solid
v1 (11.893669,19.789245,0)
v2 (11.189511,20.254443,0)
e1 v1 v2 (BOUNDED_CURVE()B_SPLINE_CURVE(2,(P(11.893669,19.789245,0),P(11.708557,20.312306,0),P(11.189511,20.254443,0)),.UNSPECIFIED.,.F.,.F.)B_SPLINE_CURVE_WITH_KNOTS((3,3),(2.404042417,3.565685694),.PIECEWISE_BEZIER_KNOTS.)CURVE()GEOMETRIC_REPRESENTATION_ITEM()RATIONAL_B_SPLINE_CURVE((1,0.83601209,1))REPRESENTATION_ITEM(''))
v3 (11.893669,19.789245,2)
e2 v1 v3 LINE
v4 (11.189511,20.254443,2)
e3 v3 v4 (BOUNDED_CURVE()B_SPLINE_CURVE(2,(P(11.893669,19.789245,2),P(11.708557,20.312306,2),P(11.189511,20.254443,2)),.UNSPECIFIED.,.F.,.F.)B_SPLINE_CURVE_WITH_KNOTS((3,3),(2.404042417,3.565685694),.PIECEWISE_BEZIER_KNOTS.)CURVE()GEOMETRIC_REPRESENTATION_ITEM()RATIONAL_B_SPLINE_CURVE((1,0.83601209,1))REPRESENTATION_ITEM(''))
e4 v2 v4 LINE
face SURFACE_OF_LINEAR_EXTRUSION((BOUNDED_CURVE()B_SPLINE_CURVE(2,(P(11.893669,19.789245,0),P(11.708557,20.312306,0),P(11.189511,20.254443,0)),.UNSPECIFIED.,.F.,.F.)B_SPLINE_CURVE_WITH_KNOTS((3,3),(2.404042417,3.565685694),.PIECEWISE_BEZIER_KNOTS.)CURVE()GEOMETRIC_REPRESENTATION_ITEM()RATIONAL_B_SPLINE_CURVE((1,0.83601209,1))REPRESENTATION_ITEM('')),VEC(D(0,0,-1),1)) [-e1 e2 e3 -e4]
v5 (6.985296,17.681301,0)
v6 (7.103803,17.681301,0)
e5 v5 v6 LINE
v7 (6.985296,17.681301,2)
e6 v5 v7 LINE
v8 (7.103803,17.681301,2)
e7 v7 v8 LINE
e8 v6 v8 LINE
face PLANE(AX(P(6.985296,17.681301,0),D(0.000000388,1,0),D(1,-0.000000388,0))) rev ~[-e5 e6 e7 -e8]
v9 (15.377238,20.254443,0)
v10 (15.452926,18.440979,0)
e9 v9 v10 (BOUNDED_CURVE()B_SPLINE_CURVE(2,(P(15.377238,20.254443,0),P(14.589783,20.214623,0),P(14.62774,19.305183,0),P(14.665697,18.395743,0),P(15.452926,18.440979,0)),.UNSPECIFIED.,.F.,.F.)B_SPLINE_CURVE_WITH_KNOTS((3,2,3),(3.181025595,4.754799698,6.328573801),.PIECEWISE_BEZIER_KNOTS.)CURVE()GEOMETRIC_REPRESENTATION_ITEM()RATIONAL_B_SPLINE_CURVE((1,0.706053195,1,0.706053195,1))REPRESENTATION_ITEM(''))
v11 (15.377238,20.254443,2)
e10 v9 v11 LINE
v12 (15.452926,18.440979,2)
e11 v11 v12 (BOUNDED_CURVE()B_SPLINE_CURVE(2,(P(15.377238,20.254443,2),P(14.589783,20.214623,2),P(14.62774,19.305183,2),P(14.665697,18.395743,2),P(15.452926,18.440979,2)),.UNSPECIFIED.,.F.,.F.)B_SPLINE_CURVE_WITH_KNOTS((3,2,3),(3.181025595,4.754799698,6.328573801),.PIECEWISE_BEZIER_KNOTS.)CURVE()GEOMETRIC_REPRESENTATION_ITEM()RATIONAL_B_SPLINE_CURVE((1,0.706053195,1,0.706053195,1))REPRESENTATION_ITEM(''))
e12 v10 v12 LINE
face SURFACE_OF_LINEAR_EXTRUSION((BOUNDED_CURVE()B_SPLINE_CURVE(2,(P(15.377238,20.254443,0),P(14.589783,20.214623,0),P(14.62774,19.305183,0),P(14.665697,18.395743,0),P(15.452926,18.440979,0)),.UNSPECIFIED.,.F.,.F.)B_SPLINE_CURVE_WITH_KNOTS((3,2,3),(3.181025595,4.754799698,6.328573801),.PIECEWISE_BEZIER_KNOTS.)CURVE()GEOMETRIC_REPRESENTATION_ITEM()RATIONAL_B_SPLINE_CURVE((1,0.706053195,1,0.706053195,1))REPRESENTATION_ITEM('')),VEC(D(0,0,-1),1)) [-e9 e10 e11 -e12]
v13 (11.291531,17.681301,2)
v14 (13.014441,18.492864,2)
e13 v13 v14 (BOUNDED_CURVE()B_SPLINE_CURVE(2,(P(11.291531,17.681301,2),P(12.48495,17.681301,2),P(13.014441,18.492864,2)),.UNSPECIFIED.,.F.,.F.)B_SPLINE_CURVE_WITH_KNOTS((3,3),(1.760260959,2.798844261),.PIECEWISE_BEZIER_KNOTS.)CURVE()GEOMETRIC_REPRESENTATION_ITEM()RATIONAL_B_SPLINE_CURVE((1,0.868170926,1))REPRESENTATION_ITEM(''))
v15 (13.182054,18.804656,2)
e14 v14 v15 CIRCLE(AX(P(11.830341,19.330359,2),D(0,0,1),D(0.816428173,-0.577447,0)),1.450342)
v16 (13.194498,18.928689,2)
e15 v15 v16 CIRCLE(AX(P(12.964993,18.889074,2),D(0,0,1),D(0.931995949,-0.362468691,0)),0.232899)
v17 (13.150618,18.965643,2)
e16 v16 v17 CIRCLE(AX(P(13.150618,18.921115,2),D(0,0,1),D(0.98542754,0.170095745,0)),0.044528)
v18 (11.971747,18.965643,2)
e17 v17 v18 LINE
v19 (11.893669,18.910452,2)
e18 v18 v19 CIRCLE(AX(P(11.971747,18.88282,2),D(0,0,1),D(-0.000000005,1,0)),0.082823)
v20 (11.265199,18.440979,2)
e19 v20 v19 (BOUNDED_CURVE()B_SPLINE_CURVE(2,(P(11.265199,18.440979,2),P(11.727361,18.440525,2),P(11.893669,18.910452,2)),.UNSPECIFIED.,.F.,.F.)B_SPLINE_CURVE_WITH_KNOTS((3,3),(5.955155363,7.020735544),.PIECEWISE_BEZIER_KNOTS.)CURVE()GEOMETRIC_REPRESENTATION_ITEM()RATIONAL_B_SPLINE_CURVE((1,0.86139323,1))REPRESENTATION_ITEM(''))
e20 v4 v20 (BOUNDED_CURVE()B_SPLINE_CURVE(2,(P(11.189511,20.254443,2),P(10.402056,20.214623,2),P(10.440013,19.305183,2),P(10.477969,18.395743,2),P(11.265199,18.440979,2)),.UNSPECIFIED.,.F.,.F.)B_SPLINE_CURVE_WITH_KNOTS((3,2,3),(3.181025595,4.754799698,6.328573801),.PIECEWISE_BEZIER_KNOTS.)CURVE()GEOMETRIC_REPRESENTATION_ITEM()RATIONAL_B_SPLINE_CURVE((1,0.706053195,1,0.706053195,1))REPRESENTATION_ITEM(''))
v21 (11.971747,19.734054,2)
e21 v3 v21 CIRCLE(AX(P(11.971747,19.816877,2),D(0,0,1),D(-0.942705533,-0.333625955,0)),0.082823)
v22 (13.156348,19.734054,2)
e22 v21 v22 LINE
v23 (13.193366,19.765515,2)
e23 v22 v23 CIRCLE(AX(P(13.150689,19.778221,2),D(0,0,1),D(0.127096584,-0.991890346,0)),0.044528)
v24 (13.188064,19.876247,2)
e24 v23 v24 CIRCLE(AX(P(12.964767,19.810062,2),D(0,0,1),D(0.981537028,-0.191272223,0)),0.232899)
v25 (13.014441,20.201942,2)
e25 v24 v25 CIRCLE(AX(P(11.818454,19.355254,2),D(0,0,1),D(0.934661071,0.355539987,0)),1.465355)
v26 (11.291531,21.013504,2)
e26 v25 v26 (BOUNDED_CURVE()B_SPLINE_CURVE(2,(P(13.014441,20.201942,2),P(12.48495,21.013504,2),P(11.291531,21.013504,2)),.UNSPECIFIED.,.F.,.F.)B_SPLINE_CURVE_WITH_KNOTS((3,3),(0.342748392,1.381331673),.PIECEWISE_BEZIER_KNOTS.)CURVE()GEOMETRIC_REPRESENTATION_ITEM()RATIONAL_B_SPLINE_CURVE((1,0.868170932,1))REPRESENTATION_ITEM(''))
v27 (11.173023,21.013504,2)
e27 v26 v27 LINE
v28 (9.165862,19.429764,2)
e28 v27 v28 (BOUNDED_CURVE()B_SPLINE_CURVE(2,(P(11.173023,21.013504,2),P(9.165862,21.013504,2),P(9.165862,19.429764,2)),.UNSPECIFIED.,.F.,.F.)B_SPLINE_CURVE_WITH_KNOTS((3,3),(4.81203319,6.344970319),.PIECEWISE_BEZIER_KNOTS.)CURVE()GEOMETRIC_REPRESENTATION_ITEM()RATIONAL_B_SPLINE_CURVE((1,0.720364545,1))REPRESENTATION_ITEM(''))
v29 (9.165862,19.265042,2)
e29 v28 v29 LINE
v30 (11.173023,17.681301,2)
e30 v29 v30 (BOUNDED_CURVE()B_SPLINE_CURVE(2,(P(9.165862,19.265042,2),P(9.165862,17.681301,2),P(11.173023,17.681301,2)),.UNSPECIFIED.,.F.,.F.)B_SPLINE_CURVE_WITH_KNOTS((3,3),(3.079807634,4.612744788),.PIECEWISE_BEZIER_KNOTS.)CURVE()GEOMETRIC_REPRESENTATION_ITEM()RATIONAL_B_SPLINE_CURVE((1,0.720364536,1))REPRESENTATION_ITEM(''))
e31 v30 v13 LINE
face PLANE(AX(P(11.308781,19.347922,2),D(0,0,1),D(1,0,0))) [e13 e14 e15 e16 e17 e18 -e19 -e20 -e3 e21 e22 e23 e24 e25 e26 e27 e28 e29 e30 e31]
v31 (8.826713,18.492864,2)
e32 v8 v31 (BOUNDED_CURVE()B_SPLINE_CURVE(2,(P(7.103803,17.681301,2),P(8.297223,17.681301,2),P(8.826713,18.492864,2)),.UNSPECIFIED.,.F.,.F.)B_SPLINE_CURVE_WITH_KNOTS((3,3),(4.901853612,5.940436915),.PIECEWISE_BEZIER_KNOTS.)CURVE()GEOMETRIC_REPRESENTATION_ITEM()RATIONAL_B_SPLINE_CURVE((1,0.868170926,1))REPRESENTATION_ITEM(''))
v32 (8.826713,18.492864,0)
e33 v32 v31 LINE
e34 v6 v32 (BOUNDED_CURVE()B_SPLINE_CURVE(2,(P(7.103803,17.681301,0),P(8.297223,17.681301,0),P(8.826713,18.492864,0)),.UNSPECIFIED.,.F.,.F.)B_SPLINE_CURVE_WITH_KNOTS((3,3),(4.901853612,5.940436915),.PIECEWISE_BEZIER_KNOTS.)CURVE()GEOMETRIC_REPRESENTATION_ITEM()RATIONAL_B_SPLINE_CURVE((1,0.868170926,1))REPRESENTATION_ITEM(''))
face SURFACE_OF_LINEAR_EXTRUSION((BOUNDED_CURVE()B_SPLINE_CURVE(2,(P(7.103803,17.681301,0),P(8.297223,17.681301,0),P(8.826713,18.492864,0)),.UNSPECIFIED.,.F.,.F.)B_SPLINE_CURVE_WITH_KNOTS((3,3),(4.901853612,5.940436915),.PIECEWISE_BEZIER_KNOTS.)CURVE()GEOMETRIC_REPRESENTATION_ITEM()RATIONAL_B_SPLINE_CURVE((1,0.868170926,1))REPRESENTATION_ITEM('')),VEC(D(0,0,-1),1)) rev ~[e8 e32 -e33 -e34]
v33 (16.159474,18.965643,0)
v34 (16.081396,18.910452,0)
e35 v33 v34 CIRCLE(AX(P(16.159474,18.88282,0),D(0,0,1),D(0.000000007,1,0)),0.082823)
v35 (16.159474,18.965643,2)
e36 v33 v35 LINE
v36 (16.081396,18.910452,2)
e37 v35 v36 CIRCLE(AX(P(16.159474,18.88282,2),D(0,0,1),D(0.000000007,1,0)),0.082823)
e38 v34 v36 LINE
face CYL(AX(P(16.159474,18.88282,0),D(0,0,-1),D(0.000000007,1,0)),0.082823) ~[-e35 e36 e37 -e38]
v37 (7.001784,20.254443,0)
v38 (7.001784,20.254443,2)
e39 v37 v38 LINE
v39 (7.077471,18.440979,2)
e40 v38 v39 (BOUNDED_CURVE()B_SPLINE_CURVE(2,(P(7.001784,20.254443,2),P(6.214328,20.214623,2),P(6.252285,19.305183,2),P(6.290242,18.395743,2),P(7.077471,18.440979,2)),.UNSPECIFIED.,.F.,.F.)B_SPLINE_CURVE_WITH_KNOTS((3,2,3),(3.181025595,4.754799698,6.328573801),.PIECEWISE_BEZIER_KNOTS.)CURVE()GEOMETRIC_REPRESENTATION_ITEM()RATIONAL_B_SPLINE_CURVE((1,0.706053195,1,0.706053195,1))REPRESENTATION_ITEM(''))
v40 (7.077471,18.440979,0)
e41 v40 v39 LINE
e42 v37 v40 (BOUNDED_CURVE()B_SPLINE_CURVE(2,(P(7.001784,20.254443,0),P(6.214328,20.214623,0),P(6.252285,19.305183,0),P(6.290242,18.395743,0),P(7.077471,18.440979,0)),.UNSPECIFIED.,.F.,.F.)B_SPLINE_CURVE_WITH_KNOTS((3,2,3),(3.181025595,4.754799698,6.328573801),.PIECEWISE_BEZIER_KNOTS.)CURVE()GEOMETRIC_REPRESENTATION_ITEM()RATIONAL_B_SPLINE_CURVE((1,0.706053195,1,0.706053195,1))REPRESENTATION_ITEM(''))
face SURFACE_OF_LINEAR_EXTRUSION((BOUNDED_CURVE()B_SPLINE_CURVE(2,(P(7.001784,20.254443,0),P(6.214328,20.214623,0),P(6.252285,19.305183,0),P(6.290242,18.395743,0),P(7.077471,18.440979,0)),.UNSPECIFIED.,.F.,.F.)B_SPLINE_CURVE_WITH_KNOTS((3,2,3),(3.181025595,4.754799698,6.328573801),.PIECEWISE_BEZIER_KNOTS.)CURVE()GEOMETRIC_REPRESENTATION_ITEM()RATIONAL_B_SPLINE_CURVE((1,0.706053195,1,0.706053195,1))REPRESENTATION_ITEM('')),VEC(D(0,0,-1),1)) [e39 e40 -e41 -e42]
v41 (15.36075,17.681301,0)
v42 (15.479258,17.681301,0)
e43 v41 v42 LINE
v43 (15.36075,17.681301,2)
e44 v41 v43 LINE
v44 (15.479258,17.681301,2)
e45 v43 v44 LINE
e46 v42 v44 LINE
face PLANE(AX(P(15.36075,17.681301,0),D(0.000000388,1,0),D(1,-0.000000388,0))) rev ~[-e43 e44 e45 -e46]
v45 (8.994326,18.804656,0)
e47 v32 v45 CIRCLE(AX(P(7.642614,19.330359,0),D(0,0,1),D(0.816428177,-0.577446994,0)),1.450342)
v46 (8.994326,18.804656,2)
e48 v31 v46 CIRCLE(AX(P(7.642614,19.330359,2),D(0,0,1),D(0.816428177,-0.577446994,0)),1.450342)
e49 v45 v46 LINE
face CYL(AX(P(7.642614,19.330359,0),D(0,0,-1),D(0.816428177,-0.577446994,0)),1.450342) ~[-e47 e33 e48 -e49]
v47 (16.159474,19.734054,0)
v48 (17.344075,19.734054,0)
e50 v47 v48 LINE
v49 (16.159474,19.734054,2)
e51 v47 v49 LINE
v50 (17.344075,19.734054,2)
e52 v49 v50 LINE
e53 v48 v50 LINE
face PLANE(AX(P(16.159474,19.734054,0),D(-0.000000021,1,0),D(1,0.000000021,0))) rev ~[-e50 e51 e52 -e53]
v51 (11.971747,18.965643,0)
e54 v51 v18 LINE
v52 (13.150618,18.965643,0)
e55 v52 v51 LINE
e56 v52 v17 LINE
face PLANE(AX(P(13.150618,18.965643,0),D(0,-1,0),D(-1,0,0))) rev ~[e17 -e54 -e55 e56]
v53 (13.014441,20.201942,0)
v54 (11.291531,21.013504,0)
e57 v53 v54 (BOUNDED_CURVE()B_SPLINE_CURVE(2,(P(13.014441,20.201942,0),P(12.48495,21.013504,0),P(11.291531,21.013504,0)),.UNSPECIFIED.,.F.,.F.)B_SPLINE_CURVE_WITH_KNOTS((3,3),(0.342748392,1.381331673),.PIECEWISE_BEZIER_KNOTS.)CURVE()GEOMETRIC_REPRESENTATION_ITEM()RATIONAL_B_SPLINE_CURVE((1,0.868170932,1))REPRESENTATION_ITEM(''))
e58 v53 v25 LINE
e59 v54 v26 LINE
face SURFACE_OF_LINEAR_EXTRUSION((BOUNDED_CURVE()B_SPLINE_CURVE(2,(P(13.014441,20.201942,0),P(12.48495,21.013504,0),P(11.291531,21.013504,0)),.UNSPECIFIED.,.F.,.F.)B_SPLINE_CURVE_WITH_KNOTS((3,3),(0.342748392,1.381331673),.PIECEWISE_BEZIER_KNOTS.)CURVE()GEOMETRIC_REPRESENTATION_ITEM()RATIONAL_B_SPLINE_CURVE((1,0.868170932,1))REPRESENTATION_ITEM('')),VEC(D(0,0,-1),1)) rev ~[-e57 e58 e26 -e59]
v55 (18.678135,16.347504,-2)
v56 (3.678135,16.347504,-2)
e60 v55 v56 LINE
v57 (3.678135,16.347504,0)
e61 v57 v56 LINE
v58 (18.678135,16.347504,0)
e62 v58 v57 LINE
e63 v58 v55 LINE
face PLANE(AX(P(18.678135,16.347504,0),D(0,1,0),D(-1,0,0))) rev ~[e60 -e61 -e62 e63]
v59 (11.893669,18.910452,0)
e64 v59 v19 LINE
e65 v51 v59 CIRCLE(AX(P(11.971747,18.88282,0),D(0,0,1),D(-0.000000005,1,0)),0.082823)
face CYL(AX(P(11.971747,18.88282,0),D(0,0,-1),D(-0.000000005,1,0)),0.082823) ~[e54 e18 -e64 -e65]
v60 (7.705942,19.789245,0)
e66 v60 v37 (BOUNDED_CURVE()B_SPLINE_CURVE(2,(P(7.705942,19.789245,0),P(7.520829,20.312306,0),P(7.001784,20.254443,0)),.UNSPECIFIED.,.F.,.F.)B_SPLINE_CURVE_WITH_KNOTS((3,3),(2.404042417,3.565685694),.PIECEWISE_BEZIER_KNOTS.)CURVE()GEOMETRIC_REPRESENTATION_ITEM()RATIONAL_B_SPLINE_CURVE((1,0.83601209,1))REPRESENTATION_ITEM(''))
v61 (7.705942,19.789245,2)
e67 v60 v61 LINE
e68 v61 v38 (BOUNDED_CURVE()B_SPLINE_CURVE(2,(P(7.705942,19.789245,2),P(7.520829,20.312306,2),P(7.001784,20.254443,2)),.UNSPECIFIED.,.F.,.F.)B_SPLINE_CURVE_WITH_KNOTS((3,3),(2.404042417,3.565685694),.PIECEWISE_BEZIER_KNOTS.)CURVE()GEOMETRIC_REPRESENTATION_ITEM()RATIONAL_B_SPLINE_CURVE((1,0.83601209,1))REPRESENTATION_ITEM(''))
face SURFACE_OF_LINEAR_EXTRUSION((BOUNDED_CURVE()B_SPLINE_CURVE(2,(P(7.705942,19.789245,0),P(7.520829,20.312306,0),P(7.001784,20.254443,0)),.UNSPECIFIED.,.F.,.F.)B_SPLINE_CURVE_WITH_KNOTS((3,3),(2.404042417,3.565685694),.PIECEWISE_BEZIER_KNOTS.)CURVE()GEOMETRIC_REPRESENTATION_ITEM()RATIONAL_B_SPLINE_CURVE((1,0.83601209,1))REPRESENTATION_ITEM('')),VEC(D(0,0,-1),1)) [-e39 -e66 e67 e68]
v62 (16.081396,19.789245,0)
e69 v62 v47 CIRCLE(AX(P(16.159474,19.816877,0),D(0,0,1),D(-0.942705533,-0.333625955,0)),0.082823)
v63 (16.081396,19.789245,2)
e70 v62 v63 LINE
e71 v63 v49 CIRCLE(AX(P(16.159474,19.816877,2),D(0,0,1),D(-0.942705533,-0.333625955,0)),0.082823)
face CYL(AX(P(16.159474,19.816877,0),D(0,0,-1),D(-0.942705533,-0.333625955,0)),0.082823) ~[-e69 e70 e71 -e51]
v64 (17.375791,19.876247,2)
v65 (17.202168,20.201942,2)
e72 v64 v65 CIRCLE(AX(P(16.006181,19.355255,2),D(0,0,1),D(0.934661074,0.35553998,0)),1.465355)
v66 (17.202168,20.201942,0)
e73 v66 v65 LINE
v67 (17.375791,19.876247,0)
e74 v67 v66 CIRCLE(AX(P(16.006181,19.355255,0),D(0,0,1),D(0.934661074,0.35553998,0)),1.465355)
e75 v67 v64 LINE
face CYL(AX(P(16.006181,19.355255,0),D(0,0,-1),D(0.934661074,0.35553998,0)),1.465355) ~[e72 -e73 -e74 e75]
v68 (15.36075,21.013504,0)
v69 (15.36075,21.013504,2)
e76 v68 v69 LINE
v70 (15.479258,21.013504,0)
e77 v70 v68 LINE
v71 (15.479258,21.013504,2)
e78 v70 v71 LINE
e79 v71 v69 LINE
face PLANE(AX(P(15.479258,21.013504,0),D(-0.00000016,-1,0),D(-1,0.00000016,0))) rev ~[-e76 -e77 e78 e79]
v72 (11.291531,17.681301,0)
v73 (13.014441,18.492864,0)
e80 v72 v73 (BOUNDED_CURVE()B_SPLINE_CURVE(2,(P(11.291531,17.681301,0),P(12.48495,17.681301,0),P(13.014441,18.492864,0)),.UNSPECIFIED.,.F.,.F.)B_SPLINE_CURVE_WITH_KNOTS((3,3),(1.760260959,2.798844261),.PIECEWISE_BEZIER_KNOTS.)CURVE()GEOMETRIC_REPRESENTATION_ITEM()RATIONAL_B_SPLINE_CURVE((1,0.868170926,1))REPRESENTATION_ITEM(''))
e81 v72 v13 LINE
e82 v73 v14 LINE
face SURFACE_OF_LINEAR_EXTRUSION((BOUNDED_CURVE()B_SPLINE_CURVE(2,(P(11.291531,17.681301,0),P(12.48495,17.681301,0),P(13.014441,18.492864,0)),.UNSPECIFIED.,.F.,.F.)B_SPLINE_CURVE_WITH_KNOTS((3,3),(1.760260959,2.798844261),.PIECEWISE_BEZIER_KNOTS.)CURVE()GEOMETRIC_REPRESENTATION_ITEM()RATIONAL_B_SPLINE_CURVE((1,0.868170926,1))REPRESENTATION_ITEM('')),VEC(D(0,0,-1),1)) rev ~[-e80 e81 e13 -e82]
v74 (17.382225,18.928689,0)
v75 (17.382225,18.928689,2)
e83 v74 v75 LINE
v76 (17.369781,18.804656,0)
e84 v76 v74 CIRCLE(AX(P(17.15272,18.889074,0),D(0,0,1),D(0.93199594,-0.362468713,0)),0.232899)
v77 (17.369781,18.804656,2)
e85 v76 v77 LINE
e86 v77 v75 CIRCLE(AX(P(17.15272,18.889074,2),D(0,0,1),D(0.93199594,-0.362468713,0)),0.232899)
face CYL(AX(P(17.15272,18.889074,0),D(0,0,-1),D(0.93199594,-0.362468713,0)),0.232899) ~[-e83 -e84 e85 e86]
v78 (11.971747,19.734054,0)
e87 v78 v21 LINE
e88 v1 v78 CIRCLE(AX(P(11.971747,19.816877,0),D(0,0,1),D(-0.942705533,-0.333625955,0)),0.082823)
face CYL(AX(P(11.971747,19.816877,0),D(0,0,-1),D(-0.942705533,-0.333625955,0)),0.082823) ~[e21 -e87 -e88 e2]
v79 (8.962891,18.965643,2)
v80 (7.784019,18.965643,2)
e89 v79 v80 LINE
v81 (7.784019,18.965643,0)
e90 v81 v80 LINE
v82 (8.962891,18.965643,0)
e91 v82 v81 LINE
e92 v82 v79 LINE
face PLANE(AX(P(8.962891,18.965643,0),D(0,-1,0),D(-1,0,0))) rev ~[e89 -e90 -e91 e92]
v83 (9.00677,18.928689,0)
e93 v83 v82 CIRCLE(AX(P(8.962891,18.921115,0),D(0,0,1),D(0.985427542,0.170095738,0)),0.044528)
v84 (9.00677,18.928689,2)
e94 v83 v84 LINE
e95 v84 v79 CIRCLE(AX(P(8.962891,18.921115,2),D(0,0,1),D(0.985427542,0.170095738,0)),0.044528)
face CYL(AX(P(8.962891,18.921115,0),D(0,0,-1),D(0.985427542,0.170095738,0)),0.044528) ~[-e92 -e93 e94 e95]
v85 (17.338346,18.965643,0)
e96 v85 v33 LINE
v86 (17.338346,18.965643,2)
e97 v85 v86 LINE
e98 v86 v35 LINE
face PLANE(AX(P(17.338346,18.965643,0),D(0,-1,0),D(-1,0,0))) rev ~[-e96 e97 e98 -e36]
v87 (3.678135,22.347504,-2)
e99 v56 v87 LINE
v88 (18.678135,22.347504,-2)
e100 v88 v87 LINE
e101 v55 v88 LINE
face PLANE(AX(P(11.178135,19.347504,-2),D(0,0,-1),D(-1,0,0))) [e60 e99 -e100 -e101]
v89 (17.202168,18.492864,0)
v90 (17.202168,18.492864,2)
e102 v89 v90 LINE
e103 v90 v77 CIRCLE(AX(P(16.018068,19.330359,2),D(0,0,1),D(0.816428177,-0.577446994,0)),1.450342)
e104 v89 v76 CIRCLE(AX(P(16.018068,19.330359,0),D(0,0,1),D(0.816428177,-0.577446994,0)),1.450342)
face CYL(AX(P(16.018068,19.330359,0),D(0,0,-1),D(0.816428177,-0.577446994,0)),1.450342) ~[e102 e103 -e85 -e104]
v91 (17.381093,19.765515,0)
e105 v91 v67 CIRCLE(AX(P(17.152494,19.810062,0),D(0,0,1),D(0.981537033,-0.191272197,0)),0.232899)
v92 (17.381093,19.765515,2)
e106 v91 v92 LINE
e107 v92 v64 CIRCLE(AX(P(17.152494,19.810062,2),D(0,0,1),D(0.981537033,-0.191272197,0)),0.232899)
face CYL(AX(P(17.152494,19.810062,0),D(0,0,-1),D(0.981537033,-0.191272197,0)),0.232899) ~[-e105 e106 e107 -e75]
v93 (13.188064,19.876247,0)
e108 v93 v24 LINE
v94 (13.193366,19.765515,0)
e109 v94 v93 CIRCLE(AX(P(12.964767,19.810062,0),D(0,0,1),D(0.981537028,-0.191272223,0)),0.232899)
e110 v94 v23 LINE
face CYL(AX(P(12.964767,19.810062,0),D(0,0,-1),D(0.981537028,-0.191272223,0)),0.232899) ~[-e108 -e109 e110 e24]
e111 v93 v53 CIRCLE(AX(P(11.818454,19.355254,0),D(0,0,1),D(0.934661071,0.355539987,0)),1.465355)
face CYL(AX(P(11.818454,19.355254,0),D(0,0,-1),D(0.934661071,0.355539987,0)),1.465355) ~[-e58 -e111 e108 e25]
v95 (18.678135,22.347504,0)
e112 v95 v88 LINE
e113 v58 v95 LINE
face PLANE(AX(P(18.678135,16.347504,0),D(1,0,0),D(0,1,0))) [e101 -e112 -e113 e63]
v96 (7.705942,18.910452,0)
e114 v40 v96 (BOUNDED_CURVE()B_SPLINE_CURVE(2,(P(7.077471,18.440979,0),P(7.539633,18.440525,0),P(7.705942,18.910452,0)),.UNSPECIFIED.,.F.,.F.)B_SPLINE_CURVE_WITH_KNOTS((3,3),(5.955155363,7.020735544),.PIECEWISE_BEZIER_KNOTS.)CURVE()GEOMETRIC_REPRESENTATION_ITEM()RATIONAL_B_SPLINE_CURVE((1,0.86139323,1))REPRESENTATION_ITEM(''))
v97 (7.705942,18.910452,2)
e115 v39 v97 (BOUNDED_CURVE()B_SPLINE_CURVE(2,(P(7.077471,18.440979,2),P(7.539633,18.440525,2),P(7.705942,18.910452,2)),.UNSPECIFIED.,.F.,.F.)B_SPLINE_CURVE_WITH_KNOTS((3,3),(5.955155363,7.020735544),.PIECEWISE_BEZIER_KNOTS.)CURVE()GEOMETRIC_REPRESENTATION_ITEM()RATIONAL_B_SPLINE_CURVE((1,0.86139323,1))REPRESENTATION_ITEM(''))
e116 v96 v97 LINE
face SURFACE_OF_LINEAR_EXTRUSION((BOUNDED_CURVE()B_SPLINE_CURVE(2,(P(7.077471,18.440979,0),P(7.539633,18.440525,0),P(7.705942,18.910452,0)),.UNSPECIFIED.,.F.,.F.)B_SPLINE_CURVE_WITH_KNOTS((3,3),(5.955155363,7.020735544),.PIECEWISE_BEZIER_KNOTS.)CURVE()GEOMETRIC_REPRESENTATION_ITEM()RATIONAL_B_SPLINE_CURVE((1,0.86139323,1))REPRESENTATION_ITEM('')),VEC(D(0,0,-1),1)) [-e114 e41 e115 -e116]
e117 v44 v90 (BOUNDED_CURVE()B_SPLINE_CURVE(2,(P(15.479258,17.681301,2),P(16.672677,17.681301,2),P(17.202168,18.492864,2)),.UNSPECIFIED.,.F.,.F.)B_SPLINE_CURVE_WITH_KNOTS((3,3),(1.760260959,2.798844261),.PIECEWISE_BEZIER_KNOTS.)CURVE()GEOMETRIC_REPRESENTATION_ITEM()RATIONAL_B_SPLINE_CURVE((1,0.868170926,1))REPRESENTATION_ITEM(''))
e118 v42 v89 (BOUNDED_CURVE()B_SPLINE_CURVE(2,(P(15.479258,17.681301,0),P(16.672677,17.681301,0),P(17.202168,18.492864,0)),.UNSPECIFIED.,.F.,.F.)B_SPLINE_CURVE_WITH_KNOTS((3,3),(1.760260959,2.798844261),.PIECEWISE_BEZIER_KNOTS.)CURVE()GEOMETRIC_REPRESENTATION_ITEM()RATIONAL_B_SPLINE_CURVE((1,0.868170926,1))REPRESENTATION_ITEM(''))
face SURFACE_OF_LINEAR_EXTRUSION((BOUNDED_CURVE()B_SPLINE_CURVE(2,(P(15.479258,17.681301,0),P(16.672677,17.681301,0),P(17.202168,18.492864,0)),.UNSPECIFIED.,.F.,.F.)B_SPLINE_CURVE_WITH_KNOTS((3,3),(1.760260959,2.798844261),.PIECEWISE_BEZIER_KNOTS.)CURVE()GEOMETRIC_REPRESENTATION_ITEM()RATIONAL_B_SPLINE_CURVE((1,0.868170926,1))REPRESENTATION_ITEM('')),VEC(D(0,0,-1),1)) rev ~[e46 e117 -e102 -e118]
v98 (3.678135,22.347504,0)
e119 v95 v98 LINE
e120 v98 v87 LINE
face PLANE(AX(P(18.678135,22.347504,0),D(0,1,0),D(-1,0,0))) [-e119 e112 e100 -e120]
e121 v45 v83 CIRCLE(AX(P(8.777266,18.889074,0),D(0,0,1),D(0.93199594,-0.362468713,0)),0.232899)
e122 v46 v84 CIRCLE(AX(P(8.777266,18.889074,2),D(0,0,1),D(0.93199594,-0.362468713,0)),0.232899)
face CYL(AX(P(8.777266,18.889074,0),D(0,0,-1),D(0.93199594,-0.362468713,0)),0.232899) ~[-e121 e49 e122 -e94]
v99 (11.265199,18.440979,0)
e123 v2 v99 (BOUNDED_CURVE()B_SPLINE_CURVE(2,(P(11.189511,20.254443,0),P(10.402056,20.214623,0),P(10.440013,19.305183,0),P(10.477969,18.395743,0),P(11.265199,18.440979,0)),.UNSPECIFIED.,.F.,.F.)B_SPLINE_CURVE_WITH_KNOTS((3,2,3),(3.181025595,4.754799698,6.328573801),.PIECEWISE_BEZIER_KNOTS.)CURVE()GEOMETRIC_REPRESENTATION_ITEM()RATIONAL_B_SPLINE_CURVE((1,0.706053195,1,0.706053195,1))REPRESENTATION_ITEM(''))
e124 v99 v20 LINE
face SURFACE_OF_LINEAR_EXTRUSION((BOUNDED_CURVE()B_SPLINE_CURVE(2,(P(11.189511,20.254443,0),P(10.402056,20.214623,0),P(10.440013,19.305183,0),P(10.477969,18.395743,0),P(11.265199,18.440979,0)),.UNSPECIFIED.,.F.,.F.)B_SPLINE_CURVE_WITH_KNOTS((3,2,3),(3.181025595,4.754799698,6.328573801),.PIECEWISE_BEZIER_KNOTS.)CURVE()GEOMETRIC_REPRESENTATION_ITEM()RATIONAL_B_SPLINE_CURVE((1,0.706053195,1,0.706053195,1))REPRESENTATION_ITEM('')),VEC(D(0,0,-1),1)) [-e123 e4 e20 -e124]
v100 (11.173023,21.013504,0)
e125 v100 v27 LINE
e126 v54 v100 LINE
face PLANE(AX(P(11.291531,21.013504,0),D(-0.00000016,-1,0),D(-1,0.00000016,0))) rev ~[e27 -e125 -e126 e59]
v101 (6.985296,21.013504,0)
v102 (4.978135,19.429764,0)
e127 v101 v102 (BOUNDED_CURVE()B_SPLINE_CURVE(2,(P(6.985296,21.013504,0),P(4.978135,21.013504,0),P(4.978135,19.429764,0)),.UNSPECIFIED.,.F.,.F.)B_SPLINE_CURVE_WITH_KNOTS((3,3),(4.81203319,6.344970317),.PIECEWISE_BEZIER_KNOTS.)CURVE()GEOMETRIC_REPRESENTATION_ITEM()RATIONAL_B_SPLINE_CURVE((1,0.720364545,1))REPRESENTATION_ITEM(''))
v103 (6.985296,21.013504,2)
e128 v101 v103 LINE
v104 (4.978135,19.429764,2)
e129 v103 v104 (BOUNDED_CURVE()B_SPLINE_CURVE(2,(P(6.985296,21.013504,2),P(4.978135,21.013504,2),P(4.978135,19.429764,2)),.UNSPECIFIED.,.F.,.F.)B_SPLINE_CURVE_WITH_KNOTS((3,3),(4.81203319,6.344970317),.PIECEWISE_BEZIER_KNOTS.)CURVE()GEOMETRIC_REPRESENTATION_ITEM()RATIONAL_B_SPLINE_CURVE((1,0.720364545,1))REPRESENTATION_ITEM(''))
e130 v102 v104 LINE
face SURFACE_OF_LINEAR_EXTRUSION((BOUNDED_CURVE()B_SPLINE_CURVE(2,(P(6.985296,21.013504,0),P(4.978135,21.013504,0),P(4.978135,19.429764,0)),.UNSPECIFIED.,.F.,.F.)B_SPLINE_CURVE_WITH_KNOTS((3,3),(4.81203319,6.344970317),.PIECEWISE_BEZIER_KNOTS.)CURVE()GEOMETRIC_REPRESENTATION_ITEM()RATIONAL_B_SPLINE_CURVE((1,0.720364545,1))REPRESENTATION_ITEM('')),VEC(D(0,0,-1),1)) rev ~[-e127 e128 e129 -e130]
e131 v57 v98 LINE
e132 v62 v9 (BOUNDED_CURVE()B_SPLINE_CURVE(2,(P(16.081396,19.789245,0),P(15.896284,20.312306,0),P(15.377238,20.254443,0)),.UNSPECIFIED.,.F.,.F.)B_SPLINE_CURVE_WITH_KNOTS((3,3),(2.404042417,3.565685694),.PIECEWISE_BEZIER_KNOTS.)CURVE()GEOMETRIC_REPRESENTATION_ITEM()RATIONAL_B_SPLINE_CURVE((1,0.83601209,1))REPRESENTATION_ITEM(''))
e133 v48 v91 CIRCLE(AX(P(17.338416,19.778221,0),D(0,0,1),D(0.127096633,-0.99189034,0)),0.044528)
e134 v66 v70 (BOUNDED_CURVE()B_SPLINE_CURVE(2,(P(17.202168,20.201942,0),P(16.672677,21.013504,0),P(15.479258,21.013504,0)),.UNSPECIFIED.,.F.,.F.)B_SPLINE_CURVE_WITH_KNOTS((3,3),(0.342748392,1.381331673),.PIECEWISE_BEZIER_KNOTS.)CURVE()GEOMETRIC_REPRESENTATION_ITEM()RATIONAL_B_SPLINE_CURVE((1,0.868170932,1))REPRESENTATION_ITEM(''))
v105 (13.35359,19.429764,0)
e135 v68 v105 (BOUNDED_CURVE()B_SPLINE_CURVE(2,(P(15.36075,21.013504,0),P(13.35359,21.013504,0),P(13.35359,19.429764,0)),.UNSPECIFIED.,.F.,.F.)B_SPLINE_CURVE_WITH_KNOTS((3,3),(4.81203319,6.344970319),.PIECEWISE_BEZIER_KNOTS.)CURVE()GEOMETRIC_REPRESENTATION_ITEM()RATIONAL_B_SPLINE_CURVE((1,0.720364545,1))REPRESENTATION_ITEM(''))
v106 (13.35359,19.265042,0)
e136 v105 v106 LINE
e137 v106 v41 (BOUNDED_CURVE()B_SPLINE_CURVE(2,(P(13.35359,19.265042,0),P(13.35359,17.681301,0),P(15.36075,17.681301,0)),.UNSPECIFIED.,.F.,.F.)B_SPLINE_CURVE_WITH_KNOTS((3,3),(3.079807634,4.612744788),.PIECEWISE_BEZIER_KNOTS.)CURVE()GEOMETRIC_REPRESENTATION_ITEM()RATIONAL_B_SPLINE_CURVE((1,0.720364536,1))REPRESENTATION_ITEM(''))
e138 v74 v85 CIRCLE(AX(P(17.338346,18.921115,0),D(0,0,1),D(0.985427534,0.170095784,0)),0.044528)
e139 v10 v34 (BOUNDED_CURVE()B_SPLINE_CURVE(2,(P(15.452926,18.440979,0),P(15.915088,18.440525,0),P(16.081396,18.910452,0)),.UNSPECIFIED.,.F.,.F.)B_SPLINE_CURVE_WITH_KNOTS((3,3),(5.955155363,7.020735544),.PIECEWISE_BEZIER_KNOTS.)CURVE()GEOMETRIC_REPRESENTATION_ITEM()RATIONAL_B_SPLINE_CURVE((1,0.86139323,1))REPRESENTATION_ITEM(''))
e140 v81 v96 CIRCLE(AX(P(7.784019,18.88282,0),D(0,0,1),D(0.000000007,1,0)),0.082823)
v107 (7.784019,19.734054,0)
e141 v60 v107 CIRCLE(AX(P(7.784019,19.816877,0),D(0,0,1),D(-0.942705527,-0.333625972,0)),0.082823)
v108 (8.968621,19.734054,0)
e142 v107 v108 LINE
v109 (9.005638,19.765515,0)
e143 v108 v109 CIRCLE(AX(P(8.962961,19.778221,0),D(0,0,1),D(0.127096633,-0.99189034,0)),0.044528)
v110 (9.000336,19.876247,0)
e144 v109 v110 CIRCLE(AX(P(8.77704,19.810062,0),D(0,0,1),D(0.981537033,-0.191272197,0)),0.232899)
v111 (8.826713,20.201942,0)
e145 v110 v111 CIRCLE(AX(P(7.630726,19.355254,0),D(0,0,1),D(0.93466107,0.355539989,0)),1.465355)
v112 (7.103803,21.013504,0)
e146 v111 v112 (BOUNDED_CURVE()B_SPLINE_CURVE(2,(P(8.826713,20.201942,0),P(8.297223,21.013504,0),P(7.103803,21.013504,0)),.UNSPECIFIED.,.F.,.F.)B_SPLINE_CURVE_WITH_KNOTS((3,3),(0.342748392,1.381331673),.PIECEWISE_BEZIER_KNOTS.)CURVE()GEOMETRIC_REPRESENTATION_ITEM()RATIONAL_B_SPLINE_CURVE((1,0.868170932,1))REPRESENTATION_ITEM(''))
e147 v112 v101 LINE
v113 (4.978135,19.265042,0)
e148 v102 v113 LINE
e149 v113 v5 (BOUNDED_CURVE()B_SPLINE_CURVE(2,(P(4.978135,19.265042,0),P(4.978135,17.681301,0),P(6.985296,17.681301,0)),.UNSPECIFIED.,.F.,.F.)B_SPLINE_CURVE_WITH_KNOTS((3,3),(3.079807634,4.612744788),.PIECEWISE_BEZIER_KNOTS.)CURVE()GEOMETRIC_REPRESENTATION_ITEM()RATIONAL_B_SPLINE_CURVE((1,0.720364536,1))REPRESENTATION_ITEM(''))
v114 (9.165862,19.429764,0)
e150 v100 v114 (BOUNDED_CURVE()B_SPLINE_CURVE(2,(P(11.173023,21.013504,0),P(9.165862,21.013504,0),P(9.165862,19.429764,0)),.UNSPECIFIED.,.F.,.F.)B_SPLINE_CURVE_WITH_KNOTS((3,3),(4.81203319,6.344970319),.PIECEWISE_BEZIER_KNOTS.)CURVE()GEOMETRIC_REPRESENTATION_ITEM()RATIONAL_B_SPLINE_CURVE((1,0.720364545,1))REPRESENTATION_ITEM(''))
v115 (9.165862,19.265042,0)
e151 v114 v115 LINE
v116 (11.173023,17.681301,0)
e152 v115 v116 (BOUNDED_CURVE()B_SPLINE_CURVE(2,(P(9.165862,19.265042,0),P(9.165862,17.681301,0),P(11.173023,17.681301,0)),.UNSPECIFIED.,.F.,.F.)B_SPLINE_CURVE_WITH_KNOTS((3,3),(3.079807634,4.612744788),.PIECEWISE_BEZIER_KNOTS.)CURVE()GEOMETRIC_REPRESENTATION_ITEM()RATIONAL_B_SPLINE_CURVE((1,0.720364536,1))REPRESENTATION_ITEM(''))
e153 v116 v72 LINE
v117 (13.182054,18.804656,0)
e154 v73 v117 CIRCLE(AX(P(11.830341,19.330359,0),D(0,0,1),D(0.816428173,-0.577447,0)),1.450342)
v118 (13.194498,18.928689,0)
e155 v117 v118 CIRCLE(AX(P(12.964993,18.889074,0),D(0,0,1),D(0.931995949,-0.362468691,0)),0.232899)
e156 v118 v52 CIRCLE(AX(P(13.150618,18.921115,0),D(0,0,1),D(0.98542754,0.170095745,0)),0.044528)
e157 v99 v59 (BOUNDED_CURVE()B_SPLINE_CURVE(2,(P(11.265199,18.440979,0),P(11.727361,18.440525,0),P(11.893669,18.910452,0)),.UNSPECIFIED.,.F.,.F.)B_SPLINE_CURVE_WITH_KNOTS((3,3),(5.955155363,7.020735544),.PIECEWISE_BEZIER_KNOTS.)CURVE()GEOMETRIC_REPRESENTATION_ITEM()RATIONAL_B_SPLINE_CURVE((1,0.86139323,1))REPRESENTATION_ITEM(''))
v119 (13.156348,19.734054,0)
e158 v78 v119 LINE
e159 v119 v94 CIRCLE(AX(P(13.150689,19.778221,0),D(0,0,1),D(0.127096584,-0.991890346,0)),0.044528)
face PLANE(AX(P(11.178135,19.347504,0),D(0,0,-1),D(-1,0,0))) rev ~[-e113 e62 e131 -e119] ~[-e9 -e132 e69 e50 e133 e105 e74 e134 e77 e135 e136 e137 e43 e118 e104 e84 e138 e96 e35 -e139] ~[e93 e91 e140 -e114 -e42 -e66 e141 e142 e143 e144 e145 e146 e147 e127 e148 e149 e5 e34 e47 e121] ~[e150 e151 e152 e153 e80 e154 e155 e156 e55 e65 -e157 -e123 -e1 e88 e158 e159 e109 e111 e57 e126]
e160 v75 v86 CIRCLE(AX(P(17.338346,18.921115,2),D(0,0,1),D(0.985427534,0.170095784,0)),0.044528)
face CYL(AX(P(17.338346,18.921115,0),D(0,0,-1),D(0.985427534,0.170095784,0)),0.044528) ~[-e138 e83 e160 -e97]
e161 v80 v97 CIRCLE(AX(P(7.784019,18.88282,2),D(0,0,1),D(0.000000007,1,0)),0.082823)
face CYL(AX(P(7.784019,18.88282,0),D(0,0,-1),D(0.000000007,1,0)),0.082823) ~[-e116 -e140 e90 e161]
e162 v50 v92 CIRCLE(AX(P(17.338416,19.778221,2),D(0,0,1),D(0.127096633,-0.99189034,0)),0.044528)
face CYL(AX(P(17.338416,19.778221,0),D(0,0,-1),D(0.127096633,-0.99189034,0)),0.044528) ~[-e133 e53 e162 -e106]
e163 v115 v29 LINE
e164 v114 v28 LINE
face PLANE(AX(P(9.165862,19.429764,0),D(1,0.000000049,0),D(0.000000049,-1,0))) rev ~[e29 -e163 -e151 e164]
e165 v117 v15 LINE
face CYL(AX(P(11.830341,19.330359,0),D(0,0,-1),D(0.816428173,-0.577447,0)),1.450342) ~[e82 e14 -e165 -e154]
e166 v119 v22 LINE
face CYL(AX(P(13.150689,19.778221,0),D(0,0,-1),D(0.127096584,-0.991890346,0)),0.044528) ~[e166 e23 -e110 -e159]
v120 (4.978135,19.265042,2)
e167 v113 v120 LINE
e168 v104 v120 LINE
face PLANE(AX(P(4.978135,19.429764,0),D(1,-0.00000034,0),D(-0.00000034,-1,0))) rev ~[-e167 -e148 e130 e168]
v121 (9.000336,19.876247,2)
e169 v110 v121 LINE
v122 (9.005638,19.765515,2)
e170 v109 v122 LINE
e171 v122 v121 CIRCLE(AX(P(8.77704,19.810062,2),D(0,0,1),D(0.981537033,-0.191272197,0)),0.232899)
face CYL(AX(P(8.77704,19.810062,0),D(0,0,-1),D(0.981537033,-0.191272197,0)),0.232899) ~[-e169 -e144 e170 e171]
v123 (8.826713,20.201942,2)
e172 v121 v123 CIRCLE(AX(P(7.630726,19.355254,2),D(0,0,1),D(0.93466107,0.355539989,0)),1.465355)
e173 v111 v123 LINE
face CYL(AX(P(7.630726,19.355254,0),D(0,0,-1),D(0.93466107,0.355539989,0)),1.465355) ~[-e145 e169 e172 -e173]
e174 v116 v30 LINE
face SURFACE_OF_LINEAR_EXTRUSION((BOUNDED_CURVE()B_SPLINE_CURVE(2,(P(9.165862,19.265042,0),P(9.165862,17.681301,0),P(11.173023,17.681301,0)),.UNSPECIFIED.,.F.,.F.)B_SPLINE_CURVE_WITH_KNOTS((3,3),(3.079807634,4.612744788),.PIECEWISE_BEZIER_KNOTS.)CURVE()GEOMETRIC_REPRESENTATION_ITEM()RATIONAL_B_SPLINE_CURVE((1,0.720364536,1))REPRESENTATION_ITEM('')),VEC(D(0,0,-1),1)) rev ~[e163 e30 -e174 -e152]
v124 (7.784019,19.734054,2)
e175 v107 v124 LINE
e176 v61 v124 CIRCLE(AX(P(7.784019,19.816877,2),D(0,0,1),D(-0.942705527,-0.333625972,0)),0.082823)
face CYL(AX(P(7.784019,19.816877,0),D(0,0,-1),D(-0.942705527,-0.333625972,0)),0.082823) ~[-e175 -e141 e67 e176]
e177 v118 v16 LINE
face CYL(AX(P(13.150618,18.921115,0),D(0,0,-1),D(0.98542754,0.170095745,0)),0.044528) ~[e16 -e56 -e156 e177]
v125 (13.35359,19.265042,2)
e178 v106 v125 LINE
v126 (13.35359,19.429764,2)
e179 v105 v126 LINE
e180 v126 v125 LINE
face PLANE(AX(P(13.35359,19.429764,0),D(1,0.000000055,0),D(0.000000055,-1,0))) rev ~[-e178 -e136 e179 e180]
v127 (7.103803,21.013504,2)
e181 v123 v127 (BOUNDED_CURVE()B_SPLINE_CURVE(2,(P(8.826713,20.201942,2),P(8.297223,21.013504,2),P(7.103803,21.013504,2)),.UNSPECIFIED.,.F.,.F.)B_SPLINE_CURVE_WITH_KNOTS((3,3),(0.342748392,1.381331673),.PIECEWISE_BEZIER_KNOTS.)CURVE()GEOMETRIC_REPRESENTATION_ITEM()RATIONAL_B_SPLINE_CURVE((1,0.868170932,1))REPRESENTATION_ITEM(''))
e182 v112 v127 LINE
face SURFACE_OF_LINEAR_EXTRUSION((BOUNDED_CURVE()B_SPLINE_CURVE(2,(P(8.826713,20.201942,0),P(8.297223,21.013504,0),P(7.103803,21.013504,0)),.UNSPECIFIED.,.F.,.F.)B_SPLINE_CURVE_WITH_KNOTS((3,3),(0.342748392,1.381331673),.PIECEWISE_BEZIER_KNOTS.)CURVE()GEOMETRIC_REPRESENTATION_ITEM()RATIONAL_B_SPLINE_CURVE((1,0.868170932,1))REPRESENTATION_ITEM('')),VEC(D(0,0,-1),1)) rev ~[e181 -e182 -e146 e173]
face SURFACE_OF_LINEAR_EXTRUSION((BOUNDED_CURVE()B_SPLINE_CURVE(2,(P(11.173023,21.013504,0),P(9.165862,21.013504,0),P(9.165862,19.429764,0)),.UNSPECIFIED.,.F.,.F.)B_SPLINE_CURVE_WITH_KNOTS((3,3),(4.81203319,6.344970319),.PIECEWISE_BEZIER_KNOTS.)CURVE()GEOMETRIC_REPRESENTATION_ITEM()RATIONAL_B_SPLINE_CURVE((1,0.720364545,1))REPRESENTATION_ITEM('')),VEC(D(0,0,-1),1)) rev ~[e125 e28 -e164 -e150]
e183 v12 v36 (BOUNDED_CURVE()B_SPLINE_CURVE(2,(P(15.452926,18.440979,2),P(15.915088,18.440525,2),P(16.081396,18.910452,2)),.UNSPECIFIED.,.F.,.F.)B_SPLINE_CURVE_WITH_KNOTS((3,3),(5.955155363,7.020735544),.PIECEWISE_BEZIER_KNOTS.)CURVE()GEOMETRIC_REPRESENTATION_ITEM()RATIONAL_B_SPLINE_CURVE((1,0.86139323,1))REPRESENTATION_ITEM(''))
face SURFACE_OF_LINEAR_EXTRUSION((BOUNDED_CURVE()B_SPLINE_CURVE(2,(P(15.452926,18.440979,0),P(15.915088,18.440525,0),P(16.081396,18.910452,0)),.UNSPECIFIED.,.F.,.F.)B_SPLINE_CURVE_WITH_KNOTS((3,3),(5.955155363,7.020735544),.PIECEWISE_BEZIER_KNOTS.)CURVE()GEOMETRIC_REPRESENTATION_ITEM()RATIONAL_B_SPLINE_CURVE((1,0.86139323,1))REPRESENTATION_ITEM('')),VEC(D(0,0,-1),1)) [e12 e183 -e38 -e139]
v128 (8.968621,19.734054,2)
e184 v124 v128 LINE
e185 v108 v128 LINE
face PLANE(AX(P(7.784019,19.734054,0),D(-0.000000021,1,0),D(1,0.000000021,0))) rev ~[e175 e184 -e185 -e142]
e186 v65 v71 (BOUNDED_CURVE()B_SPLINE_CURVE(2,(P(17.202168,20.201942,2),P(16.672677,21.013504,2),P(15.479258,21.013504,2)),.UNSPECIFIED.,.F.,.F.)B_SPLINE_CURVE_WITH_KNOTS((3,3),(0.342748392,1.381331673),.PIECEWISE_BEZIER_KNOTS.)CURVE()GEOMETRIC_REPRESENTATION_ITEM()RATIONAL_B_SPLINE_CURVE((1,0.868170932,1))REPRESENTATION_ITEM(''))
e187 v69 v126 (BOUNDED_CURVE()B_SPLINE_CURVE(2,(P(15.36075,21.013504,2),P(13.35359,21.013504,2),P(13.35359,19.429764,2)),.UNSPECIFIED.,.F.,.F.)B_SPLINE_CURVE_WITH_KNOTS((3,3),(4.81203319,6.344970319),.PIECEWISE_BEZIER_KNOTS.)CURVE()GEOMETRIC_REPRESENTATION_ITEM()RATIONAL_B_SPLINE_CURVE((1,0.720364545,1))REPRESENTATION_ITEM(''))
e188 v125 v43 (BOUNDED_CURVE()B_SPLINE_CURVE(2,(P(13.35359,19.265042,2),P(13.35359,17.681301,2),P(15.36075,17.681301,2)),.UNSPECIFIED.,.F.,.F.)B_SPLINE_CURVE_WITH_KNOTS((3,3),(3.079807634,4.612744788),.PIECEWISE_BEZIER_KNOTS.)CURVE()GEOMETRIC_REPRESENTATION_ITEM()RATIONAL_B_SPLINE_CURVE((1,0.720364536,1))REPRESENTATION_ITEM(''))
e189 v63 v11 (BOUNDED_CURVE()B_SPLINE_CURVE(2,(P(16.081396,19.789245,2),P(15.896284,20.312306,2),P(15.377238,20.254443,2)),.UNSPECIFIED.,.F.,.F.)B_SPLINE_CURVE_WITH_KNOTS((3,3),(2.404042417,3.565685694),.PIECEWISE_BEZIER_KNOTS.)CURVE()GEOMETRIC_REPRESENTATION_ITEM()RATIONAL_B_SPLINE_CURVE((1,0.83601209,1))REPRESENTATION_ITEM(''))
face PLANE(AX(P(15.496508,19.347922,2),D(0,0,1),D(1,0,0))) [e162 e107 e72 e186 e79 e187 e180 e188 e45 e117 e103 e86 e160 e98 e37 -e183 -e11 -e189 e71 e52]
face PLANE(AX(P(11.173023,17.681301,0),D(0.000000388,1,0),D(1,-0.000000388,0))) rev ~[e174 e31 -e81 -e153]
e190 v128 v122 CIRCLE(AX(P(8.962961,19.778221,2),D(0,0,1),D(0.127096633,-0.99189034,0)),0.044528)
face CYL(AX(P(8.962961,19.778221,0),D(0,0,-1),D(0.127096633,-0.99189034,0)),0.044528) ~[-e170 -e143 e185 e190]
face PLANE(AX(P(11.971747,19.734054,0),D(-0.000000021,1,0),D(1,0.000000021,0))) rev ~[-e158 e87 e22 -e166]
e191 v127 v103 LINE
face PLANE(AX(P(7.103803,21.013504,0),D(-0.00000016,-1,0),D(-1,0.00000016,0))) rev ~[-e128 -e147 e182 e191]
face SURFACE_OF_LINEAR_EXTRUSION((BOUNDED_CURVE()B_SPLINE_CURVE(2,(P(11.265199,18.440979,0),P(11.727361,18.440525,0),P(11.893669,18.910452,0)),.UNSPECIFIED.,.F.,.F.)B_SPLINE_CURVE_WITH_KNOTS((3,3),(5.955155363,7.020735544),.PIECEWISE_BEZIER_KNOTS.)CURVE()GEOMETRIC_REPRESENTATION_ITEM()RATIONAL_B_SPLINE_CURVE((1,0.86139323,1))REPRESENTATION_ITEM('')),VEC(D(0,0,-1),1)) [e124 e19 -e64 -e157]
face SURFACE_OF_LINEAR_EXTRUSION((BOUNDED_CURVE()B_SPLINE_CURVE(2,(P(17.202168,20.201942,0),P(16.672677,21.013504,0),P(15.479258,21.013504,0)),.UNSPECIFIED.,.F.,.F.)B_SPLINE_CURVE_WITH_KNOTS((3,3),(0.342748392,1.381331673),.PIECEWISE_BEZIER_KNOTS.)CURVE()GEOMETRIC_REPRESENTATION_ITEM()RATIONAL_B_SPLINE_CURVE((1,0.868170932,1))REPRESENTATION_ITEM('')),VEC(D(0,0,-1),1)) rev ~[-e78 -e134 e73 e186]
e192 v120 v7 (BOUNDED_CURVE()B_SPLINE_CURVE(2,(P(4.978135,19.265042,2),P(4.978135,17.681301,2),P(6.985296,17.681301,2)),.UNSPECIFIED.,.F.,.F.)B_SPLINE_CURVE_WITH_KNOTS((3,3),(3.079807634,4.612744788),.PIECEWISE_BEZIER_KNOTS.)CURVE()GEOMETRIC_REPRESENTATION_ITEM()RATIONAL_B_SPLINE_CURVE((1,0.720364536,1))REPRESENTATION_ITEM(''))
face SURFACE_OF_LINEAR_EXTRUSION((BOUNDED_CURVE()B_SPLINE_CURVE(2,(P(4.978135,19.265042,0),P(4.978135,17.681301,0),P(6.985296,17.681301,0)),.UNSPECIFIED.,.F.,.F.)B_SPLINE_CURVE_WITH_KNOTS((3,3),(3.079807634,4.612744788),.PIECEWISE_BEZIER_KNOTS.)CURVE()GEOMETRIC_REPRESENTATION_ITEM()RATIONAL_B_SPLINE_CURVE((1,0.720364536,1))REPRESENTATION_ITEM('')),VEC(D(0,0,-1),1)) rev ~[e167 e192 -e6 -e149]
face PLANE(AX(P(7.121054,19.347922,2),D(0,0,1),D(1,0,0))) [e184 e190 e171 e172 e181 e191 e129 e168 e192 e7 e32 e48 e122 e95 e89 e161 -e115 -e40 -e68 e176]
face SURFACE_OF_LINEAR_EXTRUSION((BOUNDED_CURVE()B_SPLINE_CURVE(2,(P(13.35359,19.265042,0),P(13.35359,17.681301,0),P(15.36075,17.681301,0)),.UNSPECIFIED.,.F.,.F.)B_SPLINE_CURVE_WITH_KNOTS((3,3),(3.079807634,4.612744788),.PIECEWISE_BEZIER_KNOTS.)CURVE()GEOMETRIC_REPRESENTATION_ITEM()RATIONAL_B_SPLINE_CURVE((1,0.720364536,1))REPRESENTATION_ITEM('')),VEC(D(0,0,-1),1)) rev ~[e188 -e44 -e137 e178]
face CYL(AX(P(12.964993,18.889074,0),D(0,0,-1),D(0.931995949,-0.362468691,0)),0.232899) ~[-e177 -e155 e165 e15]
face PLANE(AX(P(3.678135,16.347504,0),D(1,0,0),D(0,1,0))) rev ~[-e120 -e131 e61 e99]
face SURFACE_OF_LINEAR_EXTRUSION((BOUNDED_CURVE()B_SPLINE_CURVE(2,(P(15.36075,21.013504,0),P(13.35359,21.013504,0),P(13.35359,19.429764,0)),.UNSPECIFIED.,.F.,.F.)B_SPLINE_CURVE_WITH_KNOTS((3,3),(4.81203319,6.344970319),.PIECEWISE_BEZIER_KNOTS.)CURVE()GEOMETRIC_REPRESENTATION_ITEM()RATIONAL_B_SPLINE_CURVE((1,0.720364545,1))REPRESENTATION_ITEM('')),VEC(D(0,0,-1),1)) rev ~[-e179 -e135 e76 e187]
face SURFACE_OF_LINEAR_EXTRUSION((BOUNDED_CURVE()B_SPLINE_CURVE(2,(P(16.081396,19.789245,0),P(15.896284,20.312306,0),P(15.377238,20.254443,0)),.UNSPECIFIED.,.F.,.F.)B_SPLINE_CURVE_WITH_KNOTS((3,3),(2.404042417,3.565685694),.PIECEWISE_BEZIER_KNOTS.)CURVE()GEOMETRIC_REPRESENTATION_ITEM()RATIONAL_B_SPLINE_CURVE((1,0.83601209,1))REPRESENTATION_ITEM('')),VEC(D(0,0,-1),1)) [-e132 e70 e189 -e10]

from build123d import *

# Parameters (mm, degrees)
BOSS_EXTRUDE1_DEPTH   = 2
BOSS_EXTRUDE1_2_DEPTH = 2
BOSS_EXTRUDE1_3_DEPTH = 2
SKETCH3_W             = 15
SKETCH3_H             = 6
BOSS_EXTRUDE2_DEPTH   = 2


with BuildPart() as part:
    # Sketch2 → Boss-Extrude1 (new body)
    with BuildSketch(Plane.XY):
        with BuildLine():
            Line((11.971746688, 19.734053644), (13.156348071, 19.734053669))
            ThreePointArc((13.156348071, 19.734053669), (13.179525443, 19.744291413), (13.193365664, 19.765515226))
            ThreePointArc((13.193365664, 19.765515226), (13.19739915, 19.821201025), (13.188063691, 19.8762467))
            ThreePointArc((13.188063691, 19.8762467), (13.111547426, 20.044582448), (13.014440765, 20.20194178))
            add(Edge.make_bspline(
                [(13.014440765, 20.20194178), (12.484950193, 21.013504257), (11.291530639, 21.013504258)],
                knots=[0.342748392, 0.342748392, 0.342748392, 1.381331673, 1.381331673, 1.381331673], degree=2, weights=[1, 0.868170932, 1]))
            Line((11.291530639, 21.013504258), (11.173022933, 21.013504277))
            add(Edge.make_bspline(
                [(11.173022933, 21.013504277), (9.165862366, 21.013504277), (9.16586234, 19.429763689)],
                knots=[4.81203319, 4.81203319, 4.81203319, 6.344970319, 6.344970319, 6.344970319], degree=2, weights=[1, 0.720364545, 1]))
            Line((9.16586234, 19.429763689), (9.165862348, 19.265041834))
            add(Edge.make_bspline(
                [(9.165862348, 19.265041834), (9.165862348, 17.681301204), (11.173022971, 17.681301277)],
                knots=[3.079807634, 3.079807634, 3.079807634, 4.612744788, 4.612744788, 4.612744788], degree=2, weights=[1, 0.720364536, 1]))
            Line((11.173022971, 17.681301277), (11.291530595, 17.681301231))
            add(Edge.make_bspline(
                [(11.291530595, 17.681301231), (12.48495018, 17.681301231), (13.014440765, 18.492863728)],
                knots=[1.760260959, 1.760260959, 1.760260959, 2.798844261, 2.798844261, 2.798844261], degree=2, weights=[1, 0.868170926, 1]))
            ThreePointArc((13.014440765, 18.492863728), (13.107795315, 18.64362681), (13.182053506, 18.804655688))
            ThreePointArc((13.182053506, 18.804655688), (13.196728173, 18.865824439), (13.194497656, 18.928689268))
            ThreePointArc((13.194497656, 18.928689268), (13.179302023, 18.955174053), (13.150618481, 18.965643321))
            Line((13.150618481, 18.965643321), (11.971746647, 18.965643321))
            ThreePointArc((11.971746647, 18.965643321), (11.923939268, 18.950452436), (11.893668965, 18.91045222))
            add(Edge.make_bspline(
                [(11.265198612, 18.440979368), (11.727360525, 18.440524679), (11.893668965, 18.91045222)],
                knots=[5.955155363, 5.955155363, 5.955155363, 7.020735544, 7.020735544, 7.020735544], degree=2, weights=[1, 0.86139323, 1]))
            add(Edge.make_bspline(
                [(11.189511072, 20.254442875), (10.402055714, 20.214623084), (10.44001251, 19.305183226), (10.477969307, 18.395743368), (11.265198612, 18.440979368)],
                knots=[3.181025595, 3.181025595, 3.181025595, 4.754799698, 4.754799698, 6.328573801, 6.328573801, 6.328573801], degree=2, weights=[1, 0.706053195, 1, 0.706053195, 1]))
            add(Edge.make_bspline(
                [(11.893668965, 19.789244771), (11.708556533, 20.312305593), (11.189511072, 20.254442875)],
                knots=[2.404042417, 2.404042417, 2.404042417, 3.565685694, 3.565685694, 3.565685694], degree=2, weights=[1, 0.83601209, 1]))
            ThreePointArc((11.893668965, 19.789244771), (11.923939288, 19.749244541), (11.971746688, 19.734053644))
        make_face()
    extrude(amount=BOSS_EXTRUDE1_DEPTH)



with BuildPart() as body_2:
    # Sketch2 → Boss-Extrude1 2 (new body)
    with BuildSketch(Plane.XY):
        with BuildLine():
            Line((7.784019348, 19.734053644), (8.968620799, 19.734053669))
            ThreePointArc((8.968620799, 19.734053669), (8.99179817, 19.744291413), (9.005638392, 19.765515226))
            ThreePointArc((9.005638392, 19.765515226), (9.009671877, 19.821201025), (9.000336418, 19.8762467))
            ThreePointArc((9.000336418, 19.8762467), (8.923820153, 20.044582448), (8.826713493, 20.20194178))
            add(Edge.make_bspline(
                [(8.826713493, 20.20194178), (8.29722292, 21.013504257), (7.103803365, 21.013504258)],
                knots=[0.342748392, 0.342748392, 0.342748392, 1.381331673, 1.381331673, 1.381331673], degree=2, weights=[1, 0.868170932, 1]))
            Line((7.103803365, 21.013504258), (6.98529566, 21.013504277))
            add(Edge.make_bspline(
                [(6.98529566, 21.013504277), (4.978135095, 21.013504277), (4.978135132, 19.429763689)],
                knots=[4.81203319, 4.81203319, 4.81203319, 6.344970317, 6.344970317, 6.344970317], degree=2, weights=[1, 0.720364545, 1]))
            Line((4.978135132, 19.429763689), (4.978135076, 19.265041834))
            add(Edge.make_bspline(
                [(4.978135076, 19.265041834), (4.978135076, 17.681301205), (6.985295697, 17.681301277)],
                knots=[3.079807634, 3.079807634, 3.079807634, 4.612744788, 4.612744788, 4.612744788], degree=2, weights=[1, 0.720364536, 1]))
            Line((6.985295697, 17.681301277), (7.103803322, 17.681301231))
            add(Edge.make_bspline(
                [(7.103803322, 17.681301231), (8.297222907, 17.681301231), (8.826713493, 18.492863728)],
                knots=[4.901853612, 4.901853612, 4.901853612, 5.940436915, 5.940436915, 5.940436915], degree=2, weights=[1, 0.868170926, 1]))
            ThreePointArc((8.826713493, 18.492863728), (8.920068042, 18.64362681), (8.994326233, 18.804655688))
            ThreePointArc((8.994326233, 18.804655688), (9.009000901, 18.865824439), (9.006770384, 18.928689268))
            ThreePointArc((9.006770384, 18.928689268), (8.99157475, 18.955174054), (8.962891207, 18.965643321))
            Line((8.962891207, 18.965643321), (7.784019375, 18.965643321))
            ThreePointArc((7.784019375, 18.965643321), (7.736211995, 18.950452436), (7.705941692, 18.91045222))
            add(Edge.make_bspline(
                [(7.07747134, 18.440979368), (7.539633252, 18.440524679), (7.705941692, 18.91045222)],
                knots=[5.955155363, 5.955155363, 5.955155363, 7.020735544, 7.020735544, 7.020735544], degree=2, weights=[1, 0.86139323, 1]))
            add(Edge.make_bspline(
                [(7.0017838, 20.254442875), (6.214328441, 20.214623084), (6.252285238, 19.305183226), (6.290242034, 18.395743368), (7.07747134, 18.440979368)],
                knots=[3.181025595, 3.181025595, 3.181025595, 4.754799698, 4.754799698, 6.328573801, 6.328573801, 6.328573801], degree=2, weights=[1, 0.706053195, 1, 0.706053195, 1]))
            add(Edge.make_bspline(
                [(7.705941692, 19.78924477), (7.520829261, 20.312305593), (7.0017838, 20.254442875)],
                knots=[2.404042417, 2.404042417, 2.404042417, 3.565685694, 3.565685694, 3.565685694], degree=2, weights=[1, 0.83601209, 1]))
            ThreePointArc((7.705941692, 19.78924477), (7.736211988, 19.74924456), (7.784019348, 19.734053644))
        make_face()
    extrude(amount=BOSS_EXTRUDE1_2_DEPTH)


with BuildPart() as body_3:
    # Sketch2 → Boss-Extrude1 3 (new body)
    with BuildSketch(Plane.XY):
        with BuildLine():
            Line((16.159473961, 19.734053644), (17.344075345, 19.734053669))
            ThreePointArc((17.344075345, 19.734053669), (17.367252716, 19.744291413), (17.381092938, 19.765515226))
            ThreePointArc((17.381092938, 19.765515226), (17.385126423, 19.821201025), (17.375790964, 19.8762467))
            ThreePointArc((17.375790964, 19.8762467), (17.2992747, 20.044582448), (17.202168039, 20.20194178))
            add(Edge.make_bspline(
                [(17.202168039, 20.20194178), (16.672677467, 21.013504257), (15.479257913, 21.013504258)],
                knots=[0.342748392, 0.342748392, 0.342748392, 1.381331673, 1.381331673, 1.381331673], degree=2, weights=[1, 0.868170932, 1]))
            Line((15.479257913, 21.013504258), (15.360750206, 21.013504277))
            add(Edge.make_bspline(
                [(15.360750206, 21.013504277), (13.353589639, 21.013504277), (13.353589613, 19.429763689)],
                knots=[4.81203319, 4.81203319, 4.81203319, 6.344970319, 6.344970319, 6.344970319], degree=2, weights=[1, 0.720364545, 1]))
            Line((13.353589613, 19.429763689), (13.353589622, 19.265041834))
            add(Edge.make_bspline(
                [(13.353589622, 19.265041834), (13.353589622, 17.681301204), (15.360750245, 17.681301277)],
                knots=[3.079807634, 3.079807634, 3.079807634, 4.612744788, 4.612744788, 4.612744788], degree=2, weights=[1, 0.720364536, 1]))
            Line((15.360750245, 17.681301277), (15.479257869, 17.681301231))
            add(Edge.make_bspline(
                [(15.479257869, 17.681301231), (16.672677453, 17.681301231), (17.202168039, 18.492863728)],
                knots=[1.760260959, 1.760260959, 1.760260959, 2.798844261, 2.798844261, 2.798844261], degree=2, weights=[1, 0.868170926, 1]))
            ThreePointArc((17.202168039, 18.492863728), (17.295522588, 18.64362681), (17.369780779, 18.804655688))
            ThreePointArc((17.369780779, 18.804655688), (17.384455447, 18.865824439), (17.38222493, 18.928689268))
            ThreePointArc((17.38222493, 18.928689268), (17.367029296, 18.955174053), (17.338345755, 18.965643321))
            Line((17.338345755, 18.965643321), (16.159473921, 18.965643321))
            ThreePointArc((16.159473921, 18.965643321), (16.111666541, 18.950452436), (16.081396238, 18.91045222))
            add(Edge.make_bspline(
                [(15.452925886, 18.440979368), (15.915087798, 18.440524679), (16.081396238, 18.91045222)],
                knots=[5.955155363, 5.955155363, 5.955155363, 7.020735544, 7.020735544, 7.020735544], degree=2, weights=[1, 0.86139323, 1]))
            add(Edge.make_bspline(
                [(15.377238346, 20.254442875), (14.589782987, 20.214623084), (14.627739784, 19.305183226), (14.665696581, 18.395743368), (15.452925886, 18.440979368)],
                knots=[3.181025595, 3.181025595, 3.181025595, 4.754799698, 4.754799698, 6.328573801, 6.328573801, 6.328573801], degree=2, weights=[1, 0.706053195, 1, 0.706053195, 1]))
            add(Edge.make_bspline(
                [(16.081396238, 19.789244771), (15.896283807, 20.312305593), (15.377238346, 20.254442875)],
                knots=[2.404042417, 2.404042417, 2.404042417, 3.565685694, 3.565685694, 3.565685694], degree=2, weights=[1, 0.83601209, 1]))
            ThreePointArc((16.081396238, 19.789244771), (16.111666561, 19.749244541), (16.159473961, 19.734053644))
        make_face()
    extrude(amount=BOSS_EXTRUDE1_3_DEPTH)


with BuildPart() as part_1:
    add(part.part)

    add(body_2.part)  # Boss-Extrude2 merges body 2

    add(body_3.part)  # Boss-Extrude2 merges body 3
    # Sketch3 → Boss-Extrude2 (add)
    with BuildSketch(Plane(origin=(0, 0, 0), x_dir=(-1, 0, 0), z_dir=(0, 0, -1))):
        with Locations((-11.178135076, 19.347504277)):
            Rectangle(SKETCH3_W, SKETCH3_H)
    extrude(amount=BOSS_EXTRUDE2_DEPTH)


solid = part_1.part
